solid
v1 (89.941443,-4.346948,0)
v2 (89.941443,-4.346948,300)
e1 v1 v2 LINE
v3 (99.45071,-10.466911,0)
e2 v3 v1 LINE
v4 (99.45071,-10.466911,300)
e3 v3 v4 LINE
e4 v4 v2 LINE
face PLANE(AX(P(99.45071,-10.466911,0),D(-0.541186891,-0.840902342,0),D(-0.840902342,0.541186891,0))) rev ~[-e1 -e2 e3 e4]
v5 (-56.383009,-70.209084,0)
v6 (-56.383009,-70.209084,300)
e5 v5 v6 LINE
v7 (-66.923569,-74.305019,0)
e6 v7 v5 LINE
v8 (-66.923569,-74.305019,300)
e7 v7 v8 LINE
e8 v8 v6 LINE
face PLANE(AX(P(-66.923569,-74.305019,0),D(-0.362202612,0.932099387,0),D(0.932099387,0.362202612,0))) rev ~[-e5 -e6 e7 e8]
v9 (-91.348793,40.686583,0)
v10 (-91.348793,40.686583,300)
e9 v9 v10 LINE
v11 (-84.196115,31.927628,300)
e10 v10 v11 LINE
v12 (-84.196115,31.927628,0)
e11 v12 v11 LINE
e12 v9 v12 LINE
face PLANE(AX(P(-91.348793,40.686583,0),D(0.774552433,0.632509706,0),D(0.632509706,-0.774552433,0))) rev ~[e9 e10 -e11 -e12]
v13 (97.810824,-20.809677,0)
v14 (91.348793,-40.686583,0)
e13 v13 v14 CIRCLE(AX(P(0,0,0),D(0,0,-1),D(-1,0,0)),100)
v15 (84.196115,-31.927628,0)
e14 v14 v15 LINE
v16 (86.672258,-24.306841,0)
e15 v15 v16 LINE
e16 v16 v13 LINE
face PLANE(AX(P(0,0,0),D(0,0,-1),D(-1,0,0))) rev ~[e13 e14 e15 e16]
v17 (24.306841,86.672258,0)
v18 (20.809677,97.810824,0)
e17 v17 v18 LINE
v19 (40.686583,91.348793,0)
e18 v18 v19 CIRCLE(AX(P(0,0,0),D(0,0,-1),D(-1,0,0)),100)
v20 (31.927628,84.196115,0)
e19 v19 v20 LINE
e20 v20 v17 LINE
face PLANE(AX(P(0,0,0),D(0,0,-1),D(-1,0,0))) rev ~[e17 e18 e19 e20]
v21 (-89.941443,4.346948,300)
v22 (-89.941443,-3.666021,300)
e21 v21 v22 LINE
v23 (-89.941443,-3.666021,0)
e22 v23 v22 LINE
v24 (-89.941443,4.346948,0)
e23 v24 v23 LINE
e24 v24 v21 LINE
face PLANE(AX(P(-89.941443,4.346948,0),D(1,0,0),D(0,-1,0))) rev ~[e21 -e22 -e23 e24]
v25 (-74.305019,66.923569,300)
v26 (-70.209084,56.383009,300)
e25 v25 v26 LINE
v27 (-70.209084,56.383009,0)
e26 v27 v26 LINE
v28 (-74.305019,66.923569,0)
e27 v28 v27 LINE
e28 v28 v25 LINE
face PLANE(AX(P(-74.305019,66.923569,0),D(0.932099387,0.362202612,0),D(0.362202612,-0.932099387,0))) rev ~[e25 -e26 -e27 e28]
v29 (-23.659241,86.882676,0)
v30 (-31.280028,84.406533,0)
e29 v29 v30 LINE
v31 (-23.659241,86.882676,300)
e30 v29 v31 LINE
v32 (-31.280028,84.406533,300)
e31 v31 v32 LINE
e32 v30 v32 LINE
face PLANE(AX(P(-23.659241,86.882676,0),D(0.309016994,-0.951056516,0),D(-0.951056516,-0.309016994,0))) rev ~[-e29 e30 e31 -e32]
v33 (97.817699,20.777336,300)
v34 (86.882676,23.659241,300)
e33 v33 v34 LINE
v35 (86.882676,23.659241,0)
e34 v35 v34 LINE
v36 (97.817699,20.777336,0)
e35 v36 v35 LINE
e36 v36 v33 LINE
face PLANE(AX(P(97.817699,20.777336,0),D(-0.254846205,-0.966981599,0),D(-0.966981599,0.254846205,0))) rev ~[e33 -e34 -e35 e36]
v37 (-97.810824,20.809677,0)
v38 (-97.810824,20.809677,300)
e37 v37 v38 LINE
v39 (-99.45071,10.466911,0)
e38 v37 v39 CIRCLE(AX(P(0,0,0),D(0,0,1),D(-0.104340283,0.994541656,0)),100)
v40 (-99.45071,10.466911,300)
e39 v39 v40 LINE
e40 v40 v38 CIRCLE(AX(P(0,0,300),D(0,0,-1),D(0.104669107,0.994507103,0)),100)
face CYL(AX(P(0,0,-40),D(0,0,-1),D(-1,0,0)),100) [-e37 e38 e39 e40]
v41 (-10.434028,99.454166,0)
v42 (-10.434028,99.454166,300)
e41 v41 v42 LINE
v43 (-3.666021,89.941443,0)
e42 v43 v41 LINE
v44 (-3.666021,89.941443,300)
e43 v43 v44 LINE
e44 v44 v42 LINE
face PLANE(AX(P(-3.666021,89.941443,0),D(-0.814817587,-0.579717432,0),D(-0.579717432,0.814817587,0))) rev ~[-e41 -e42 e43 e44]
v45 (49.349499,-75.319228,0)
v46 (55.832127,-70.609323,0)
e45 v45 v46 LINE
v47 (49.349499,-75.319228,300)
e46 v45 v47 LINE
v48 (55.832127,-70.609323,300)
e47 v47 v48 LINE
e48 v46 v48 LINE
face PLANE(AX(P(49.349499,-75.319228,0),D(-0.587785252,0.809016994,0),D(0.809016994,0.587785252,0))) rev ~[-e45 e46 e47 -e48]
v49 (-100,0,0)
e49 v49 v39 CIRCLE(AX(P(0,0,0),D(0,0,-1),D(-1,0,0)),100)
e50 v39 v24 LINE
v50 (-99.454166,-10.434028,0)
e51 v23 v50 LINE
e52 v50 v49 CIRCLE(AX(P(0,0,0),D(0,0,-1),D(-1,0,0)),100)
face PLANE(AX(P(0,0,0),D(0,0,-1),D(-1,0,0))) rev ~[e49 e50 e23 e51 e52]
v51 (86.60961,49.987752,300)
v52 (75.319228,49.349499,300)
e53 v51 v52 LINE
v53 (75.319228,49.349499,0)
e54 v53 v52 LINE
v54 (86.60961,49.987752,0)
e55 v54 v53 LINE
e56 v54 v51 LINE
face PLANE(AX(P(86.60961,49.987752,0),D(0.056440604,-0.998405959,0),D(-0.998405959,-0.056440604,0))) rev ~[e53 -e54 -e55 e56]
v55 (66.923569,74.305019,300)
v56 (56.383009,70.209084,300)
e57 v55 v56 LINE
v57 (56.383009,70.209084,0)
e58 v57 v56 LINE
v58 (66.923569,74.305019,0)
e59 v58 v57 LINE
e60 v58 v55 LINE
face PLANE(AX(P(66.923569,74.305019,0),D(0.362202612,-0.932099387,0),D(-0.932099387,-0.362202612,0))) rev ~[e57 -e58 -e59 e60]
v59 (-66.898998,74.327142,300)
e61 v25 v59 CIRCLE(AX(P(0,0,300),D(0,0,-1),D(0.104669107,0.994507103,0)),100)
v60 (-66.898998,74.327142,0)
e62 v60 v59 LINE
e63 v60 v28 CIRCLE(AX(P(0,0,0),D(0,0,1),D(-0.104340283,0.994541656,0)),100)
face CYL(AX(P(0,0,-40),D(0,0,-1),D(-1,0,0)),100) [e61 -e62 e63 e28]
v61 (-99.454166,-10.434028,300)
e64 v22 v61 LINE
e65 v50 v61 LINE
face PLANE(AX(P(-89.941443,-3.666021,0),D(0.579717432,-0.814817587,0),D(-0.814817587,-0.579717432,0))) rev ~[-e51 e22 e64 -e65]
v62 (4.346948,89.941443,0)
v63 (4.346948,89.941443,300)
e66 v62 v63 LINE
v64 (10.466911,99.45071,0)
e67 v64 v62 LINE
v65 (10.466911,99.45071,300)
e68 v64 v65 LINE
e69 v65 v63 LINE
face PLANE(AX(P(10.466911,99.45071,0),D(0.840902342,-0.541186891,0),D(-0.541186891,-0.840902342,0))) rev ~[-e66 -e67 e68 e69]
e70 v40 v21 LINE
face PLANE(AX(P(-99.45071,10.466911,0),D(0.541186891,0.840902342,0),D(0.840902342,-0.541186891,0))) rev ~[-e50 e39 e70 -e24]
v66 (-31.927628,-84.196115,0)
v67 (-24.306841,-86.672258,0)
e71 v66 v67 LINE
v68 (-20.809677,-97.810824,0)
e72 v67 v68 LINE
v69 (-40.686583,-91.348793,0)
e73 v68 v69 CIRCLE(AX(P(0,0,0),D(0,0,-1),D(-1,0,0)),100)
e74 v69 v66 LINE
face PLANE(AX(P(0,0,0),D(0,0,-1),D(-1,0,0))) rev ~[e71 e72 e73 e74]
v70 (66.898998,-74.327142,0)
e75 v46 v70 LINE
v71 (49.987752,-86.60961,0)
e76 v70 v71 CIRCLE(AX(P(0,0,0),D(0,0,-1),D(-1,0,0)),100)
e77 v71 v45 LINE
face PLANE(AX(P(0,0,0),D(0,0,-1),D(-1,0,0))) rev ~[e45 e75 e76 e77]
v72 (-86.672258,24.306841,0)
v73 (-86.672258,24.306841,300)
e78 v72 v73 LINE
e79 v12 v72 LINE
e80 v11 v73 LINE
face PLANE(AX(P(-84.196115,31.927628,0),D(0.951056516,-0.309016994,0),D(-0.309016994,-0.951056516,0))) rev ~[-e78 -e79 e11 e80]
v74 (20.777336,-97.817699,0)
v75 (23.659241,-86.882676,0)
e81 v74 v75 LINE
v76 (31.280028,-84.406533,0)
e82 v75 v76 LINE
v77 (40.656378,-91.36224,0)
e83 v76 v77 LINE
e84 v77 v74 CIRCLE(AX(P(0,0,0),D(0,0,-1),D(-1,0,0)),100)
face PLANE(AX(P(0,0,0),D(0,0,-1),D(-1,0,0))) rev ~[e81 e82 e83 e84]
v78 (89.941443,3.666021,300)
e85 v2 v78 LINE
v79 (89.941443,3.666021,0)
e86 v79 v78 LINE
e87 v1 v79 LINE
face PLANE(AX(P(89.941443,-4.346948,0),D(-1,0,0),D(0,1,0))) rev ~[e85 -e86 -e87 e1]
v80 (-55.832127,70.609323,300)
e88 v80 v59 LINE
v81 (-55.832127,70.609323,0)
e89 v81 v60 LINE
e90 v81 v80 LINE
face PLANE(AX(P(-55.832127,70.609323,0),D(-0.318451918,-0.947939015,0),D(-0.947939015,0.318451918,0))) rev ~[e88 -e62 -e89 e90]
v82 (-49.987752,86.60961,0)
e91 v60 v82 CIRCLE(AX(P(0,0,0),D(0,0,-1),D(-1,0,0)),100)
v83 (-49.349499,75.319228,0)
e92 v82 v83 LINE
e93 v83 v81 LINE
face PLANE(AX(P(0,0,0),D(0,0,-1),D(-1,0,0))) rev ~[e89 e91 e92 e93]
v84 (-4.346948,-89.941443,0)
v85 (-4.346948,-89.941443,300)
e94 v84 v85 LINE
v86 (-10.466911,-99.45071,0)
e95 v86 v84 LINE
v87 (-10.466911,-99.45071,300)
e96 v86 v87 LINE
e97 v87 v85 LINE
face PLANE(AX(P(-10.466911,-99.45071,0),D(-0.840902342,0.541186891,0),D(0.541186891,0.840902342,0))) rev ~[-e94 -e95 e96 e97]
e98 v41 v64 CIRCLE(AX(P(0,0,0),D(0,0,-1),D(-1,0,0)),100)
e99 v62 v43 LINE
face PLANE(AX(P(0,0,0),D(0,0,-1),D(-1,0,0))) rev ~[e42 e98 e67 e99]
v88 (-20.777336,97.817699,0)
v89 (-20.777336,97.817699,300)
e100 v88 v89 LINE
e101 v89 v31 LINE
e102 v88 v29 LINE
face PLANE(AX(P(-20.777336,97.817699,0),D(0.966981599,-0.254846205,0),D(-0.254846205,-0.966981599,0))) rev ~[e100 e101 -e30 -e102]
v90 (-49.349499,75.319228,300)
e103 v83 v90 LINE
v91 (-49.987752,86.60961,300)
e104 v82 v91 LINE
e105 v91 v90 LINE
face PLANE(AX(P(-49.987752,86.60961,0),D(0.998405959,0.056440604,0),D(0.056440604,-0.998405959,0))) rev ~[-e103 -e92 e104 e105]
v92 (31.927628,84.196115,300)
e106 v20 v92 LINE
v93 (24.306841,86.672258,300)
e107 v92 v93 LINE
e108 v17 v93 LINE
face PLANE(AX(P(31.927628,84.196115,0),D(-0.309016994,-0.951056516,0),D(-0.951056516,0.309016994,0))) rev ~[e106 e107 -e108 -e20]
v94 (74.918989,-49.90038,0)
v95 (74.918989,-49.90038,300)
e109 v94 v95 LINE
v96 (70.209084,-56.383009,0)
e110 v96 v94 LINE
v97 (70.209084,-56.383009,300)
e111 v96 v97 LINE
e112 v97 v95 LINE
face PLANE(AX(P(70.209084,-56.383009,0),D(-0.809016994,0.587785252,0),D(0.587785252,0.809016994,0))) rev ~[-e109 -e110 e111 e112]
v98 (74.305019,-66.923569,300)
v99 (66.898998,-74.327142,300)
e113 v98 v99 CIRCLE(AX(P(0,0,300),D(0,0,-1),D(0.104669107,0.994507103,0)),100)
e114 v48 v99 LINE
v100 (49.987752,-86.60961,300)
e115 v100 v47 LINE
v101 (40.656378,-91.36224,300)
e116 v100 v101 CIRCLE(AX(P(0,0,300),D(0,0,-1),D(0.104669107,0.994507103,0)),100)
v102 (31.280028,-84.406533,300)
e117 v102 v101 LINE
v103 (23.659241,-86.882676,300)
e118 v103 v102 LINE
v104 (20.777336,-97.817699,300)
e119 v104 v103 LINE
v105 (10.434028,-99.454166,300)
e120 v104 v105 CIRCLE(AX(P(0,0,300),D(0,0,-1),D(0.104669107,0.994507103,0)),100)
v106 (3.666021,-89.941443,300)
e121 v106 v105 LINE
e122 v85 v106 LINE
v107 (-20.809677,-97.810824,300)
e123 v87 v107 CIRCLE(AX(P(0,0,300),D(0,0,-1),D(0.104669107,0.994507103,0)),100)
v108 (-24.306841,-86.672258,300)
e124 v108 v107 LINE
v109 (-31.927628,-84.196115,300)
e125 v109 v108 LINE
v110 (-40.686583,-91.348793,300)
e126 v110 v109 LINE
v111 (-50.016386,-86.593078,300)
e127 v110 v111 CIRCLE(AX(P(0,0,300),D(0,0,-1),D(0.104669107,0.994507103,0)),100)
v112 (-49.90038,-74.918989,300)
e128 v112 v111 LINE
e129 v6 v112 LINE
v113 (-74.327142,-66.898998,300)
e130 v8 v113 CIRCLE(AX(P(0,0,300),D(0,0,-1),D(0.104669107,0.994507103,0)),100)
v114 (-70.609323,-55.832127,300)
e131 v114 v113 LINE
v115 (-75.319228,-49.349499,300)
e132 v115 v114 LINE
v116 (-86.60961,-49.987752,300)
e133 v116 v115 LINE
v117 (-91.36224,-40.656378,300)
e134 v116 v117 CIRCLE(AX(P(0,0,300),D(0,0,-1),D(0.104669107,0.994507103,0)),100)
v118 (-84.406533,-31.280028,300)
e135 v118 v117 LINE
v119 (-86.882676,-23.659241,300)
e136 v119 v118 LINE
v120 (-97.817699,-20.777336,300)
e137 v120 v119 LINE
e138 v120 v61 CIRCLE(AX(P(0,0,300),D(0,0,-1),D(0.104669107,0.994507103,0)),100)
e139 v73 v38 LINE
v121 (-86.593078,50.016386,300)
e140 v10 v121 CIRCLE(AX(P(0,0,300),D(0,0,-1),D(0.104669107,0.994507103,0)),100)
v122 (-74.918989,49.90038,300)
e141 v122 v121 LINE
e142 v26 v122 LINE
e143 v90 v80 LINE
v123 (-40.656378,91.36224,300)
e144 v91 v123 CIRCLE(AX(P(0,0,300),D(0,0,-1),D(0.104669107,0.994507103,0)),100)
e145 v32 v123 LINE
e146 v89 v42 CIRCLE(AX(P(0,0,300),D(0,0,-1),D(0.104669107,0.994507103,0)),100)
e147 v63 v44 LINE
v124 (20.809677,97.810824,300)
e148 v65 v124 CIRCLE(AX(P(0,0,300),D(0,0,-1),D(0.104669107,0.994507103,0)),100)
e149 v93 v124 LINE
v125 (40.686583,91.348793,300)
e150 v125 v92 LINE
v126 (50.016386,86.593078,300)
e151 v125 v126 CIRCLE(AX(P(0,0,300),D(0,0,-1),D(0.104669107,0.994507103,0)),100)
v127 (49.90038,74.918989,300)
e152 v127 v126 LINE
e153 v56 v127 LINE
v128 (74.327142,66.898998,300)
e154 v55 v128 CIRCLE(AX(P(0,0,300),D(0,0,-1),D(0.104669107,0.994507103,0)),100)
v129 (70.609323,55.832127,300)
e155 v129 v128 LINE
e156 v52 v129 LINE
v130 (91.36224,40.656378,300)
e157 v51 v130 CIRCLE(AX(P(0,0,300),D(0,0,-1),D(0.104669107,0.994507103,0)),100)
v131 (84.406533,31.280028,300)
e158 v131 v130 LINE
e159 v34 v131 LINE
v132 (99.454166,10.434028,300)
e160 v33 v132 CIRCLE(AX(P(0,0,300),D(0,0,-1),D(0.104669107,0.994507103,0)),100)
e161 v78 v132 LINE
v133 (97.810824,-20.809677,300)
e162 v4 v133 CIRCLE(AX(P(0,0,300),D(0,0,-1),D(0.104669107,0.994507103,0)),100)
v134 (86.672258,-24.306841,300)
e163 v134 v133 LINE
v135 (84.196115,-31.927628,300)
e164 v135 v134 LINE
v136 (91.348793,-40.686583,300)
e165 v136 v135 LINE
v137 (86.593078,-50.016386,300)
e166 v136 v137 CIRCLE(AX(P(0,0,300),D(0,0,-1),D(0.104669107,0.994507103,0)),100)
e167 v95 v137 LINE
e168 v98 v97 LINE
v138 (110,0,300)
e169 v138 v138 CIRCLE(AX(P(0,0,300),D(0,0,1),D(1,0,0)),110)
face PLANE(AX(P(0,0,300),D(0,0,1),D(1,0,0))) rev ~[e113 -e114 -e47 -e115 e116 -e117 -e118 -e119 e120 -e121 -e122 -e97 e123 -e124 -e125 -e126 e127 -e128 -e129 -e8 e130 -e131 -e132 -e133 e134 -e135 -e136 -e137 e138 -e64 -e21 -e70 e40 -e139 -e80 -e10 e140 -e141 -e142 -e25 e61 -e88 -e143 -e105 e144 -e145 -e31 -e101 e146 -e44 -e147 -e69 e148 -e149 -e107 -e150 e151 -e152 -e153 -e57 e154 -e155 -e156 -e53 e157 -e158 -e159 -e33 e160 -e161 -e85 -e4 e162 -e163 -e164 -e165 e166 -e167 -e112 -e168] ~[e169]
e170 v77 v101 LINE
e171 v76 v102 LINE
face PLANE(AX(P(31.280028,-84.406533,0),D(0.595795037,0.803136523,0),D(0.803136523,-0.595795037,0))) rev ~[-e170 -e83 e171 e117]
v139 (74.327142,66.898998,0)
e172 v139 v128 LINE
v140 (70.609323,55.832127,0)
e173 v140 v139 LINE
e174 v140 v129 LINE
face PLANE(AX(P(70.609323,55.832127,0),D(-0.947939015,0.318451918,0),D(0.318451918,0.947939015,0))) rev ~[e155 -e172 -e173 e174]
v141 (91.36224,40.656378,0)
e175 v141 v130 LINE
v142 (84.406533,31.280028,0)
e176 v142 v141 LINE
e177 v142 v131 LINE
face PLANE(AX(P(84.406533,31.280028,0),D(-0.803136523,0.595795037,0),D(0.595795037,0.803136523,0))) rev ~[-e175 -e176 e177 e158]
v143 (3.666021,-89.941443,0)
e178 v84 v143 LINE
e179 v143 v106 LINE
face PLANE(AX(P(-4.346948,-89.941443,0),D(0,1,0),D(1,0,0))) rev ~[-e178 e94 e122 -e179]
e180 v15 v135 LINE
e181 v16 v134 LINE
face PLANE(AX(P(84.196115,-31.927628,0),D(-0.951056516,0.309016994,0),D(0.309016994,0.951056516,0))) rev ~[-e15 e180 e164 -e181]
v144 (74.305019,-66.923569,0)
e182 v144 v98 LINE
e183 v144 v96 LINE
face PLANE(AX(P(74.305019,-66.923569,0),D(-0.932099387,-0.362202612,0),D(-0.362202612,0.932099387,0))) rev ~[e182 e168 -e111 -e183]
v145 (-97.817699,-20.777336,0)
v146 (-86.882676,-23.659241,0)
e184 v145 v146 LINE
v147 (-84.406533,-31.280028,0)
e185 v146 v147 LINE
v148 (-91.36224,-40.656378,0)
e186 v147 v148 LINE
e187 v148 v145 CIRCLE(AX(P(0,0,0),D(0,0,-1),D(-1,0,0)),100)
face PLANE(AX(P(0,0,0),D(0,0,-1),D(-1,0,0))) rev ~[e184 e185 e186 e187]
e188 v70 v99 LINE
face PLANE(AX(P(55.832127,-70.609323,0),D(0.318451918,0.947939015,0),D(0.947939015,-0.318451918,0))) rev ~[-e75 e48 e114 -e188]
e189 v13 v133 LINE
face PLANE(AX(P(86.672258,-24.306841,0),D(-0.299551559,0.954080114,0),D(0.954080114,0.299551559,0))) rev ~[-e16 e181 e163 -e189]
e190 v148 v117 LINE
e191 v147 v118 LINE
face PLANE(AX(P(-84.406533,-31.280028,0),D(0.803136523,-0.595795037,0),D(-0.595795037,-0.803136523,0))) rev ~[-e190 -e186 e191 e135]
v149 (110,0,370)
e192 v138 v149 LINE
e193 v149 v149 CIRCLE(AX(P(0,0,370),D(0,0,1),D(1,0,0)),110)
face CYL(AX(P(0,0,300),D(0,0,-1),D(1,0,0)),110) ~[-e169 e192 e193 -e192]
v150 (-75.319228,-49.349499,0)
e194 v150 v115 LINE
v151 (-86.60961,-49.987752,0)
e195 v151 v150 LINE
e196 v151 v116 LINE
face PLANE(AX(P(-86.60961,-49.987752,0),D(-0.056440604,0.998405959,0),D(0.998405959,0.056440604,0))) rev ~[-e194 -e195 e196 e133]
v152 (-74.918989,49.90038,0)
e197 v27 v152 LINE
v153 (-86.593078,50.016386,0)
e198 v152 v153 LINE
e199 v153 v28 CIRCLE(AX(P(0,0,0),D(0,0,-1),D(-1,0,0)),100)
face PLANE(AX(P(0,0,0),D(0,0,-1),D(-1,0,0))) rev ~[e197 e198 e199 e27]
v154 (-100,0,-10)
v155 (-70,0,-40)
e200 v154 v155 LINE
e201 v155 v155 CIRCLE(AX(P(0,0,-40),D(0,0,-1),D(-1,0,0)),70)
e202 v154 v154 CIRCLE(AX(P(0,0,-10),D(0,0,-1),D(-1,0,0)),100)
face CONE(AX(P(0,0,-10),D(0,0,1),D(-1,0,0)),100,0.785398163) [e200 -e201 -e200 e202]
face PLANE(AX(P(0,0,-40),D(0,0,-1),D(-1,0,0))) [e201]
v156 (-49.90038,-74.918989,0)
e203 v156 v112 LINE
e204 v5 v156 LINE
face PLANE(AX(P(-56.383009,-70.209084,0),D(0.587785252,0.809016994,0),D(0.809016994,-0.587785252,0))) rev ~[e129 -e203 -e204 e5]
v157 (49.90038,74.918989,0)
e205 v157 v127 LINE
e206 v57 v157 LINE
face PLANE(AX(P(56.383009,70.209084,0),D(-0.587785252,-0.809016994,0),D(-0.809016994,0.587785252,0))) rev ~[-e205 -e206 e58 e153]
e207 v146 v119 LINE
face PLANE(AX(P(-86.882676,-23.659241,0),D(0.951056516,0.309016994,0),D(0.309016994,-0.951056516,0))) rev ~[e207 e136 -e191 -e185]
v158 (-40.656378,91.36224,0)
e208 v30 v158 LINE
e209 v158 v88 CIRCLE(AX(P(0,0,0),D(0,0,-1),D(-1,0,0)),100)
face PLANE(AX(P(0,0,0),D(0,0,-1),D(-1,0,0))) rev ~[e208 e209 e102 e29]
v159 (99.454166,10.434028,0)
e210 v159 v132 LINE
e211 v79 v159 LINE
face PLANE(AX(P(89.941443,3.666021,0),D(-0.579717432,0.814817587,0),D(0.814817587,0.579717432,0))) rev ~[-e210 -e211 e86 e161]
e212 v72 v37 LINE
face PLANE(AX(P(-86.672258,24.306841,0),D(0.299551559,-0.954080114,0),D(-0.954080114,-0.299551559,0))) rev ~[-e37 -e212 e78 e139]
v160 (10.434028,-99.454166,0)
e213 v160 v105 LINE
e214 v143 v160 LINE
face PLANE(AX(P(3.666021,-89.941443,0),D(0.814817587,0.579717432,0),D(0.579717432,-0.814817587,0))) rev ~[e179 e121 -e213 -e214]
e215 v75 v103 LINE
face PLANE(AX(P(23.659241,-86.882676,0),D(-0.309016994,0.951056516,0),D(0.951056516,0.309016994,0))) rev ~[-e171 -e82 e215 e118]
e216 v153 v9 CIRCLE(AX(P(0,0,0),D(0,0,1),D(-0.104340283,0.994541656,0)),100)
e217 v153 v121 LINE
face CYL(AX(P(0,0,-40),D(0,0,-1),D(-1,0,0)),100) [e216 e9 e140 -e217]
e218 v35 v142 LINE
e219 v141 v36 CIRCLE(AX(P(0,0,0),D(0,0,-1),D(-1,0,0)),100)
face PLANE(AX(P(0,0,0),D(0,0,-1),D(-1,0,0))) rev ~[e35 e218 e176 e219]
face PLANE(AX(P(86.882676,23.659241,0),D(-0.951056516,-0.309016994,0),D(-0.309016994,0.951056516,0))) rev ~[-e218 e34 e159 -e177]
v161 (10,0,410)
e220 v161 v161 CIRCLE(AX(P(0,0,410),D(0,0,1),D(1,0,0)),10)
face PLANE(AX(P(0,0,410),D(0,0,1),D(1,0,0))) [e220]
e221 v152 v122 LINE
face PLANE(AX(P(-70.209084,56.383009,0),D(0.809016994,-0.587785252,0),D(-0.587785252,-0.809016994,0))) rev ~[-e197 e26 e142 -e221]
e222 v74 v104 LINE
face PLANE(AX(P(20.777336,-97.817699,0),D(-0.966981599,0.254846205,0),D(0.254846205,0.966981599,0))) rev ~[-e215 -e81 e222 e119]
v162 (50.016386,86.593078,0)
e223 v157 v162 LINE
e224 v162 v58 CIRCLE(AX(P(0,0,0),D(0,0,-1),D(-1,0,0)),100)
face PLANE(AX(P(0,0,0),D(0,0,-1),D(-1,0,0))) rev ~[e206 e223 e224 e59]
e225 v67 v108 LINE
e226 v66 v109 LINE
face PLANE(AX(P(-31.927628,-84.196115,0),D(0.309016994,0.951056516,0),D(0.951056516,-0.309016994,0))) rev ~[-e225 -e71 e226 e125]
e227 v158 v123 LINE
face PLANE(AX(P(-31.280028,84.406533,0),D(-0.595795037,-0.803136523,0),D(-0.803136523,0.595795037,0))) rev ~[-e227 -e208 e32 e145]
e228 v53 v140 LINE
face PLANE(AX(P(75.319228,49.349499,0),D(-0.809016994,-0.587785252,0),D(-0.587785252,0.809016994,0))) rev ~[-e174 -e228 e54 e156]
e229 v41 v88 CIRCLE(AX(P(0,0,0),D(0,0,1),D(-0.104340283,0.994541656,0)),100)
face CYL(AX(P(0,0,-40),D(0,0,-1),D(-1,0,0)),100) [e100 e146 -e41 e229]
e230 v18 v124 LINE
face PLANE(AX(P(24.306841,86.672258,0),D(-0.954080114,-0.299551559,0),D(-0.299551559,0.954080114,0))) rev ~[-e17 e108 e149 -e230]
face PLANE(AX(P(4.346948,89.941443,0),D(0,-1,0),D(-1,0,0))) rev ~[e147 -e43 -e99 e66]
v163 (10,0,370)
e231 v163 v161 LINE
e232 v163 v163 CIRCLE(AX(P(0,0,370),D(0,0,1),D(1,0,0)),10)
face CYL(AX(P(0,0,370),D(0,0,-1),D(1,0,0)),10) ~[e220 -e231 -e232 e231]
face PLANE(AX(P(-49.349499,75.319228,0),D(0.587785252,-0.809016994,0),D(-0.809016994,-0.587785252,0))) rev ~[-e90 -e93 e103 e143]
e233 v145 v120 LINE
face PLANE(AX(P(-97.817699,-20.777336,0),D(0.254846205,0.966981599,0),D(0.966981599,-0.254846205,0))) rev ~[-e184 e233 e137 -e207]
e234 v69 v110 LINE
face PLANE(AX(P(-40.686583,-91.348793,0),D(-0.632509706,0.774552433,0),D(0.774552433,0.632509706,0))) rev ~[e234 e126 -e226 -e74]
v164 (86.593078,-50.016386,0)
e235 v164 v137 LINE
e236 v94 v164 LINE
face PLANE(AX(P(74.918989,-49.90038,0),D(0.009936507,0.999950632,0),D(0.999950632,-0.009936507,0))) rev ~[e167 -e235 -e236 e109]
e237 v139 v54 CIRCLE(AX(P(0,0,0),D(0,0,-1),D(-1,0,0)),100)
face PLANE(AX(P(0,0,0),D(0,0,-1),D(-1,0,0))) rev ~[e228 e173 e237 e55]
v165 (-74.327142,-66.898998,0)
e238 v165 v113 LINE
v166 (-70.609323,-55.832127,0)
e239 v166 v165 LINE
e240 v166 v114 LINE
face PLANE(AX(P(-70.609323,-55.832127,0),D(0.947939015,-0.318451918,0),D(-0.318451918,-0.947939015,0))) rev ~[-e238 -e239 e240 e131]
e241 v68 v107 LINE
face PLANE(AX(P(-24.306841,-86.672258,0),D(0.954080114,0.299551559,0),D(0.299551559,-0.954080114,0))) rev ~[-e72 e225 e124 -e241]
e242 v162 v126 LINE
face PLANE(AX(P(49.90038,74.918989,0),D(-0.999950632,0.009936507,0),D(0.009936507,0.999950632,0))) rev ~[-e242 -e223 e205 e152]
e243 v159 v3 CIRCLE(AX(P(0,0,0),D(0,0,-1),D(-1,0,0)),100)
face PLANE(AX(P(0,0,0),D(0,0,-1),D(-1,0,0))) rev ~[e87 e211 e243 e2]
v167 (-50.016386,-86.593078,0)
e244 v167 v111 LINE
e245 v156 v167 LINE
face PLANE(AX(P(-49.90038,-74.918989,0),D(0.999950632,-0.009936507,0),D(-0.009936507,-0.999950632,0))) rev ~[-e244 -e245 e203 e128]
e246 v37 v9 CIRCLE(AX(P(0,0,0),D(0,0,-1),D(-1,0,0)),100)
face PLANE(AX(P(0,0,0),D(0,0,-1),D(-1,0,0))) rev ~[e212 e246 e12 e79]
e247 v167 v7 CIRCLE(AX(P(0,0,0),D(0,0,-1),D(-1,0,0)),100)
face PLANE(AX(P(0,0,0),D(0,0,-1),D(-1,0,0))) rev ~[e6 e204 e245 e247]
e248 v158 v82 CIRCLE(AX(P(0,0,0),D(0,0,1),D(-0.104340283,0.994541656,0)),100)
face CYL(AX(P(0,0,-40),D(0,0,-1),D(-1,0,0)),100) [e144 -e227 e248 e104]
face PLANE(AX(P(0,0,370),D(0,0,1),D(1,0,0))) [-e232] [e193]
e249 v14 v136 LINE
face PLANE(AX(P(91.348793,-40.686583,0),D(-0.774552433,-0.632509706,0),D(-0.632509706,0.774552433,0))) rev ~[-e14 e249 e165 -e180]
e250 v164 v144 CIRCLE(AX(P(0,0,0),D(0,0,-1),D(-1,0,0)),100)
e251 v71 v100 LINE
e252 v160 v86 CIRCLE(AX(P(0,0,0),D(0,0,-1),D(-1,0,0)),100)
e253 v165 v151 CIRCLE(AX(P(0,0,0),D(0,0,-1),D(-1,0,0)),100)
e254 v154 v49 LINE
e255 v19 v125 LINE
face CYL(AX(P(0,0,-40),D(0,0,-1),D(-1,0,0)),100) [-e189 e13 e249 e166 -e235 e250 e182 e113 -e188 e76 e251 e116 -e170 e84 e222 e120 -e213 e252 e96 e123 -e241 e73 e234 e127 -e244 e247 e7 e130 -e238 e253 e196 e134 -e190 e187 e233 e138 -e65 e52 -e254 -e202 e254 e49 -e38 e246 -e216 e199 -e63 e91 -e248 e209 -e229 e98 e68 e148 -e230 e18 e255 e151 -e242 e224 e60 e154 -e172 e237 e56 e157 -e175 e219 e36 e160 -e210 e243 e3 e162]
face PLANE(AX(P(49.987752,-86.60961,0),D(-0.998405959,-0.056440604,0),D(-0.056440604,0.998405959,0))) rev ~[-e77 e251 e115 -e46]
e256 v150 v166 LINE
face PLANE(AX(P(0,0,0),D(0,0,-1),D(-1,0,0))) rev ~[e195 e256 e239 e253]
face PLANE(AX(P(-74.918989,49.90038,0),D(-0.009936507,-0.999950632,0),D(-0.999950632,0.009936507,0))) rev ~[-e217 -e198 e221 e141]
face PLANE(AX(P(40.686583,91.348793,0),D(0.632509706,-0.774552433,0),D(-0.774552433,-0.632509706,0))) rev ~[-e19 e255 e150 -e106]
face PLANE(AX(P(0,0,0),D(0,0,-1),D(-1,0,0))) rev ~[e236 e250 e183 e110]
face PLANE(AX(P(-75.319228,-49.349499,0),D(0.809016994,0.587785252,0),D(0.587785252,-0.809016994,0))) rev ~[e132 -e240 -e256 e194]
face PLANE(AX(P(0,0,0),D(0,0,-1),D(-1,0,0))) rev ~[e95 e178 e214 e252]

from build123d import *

# Parameters (mm, degrees)
SKETCH1_R           = 100
BOSS_EXTRUDE1_DEPTH = 300
CUT_EXTRUDE1_REACH  = 333.662
BOSS_EXTRUDE3_START = 40
SKETCH4_R           = 100
BOSS_EXTRUDE3_DEPTH = 40
CHAMFER1_SIZE       = 30
SKETCH5_R           = 110
BOSS_EXTRUDE4_DEPTH = 70
SKETCH6_R           = 10
BOSS_EXTRUDE5_DEPTH = 40


with BuildPart() as part:
    # Sketch1 → Boss-Extrude1 (new body)
    with BuildSketch(Plane.XY):
        Circle(SKETCH1_R)
    extrude(amount=BOSS_EXTRUDE1_DEPTH)

    # Sketch3 → Cut-Extrude1 (cut, up to next)
    with BuildSketch(Plane(origin=(0, 0, 0), x_dir=(-1, 0, 0), z_dir=(0, 0, -1)), mode=Mode.PRIVATE) as cut_extrude1_sk1:
        with BuildLine():
            Line((-10.46691071, 99.450710305), (-4.346948216, 89.941443019))
            Line((-4.346948216, 89.941443019), (3.66602129, 89.941443019))
            Line((3.66602129, 89.941443019), (10.434028252, 99.454165596))
            ThreePointArc((10.434028252, 99.454165596), (-0.01653175, 99.999998634), (-10.46691071, 99.450710305))
        make_face()
    cut_extrude1_tool1 = extrude(cut_extrude1_sk1.sketch, amount=-CUT_EXTRUDE1_REACH, mode=Mode.PRIVATE) & part.part
    # Sketch3 → Cut-Extrude1 (cut, up to next)
    with BuildSketch(Plane(origin=(0, 0, 0), x_dir=(-1, 0, 0), z_dir=(0, 0, -1)), mode=Mode.PRIVATE) as cut_extrude1_sk2:
        with BuildLine():
            Line((20.777335951, 97.817699374), (23.659240965, 86.88267634))
            Line((23.659240965, 86.88267634), (31.280027828, 84.406532588))
            Line((31.280027828, 84.406532588), (40.656377891, 91.362240213))
            ThreePointArc((40.656377891, 91.362240213), (30.885976386, 95.110758922), (20.777335951, 97.817699374))
        make_face()
    cut_extrude1_tool2 = extrude(cut_extrude1_sk2.sketch, amount=-CUT_EXTRUDE1_REACH, mode=Mode.PRIVATE) & part.part
    # Sketch3 → Cut-Extrude1 (cut, up to next)
    with BuildSketch(Plane(origin=(0, 0, 0), x_dir=(-1, 0, 0), z_dir=(0, 0, -1)), mode=Mode.PRIVATE) as cut_extrude1_sk3:
        with BuildLine():
            Line((49.987752204, 86.609610492), (49.349498796, 75.319227955))
            Line((49.349498796, 75.319227955), (55.832127301, 70.609322652))
            Line((55.832127301, 70.609322652), (66.898997992, 74.3271422))
            ThreePointArc((66.898997992, 74.3271422), (58.765149959, 80.911415451), (49.987752204, 86.609610492))
        make_face()
    cut_extrude1_tool3 = extrude(cut_extrude1_sk3.sketch, amount=-CUT_EXTRUDE1_REACH, mode=Mode.PRIVATE) & part.part
    # Sketch3 → Cut-Extrude1 (cut, up to next)
    with BuildSketch(Plane(origin=(0, 0, 0), x_dir=(-1, 0, 0), z_dir=(0, 0, -1)), mode=Mode.PRIVATE) as cut_extrude1_sk4:
        with BuildLine():
            Line((74.305018987, 66.92356949), (70.209083847, 56.383008757))
            Line((70.209083847, 56.383008757), (74.918989149, 49.900380251))
            Line((74.918989149, 49.900380251), (86.593078057, 50.016385641))
            ThreePointArc((86.593078057, 50.016385641), (80.891981213, 58.791898893), (74.305018987, 66.92356949))
        make_face()
    cut_extrude1_tool4 = extrude(cut_extrude1_sk4.sketch, amount=-CUT_EXTRUDE1_REACH, mode=Mode.PRIVATE) & part.part
    # Sketch3 → Cut-Extrude1 (cut, up to next)
    with BuildSketch(Plane(origin=(0, 0, 0), x_dir=(-1, 0, 0), z_dir=(0, 0, -1)), mode=Mode.PRIVATE) as cut_extrude1_sk5:
        with BuildLine():
            Line((91.348792798, 40.686583223), (84.196114596, 31.927627818))
            Line((84.196114596, 31.927627818), (86.672258348, 24.306840955))
            Line((86.672258348, 24.306840955), (97.810824313, 20.80967677))
            ThreePointArc((97.810824313, 20.80967677), (95.100541738, 30.917421644), (91.348792798, 40.686583223))
        make_face()
    cut_extrude1_tool5 = extrude(cut_extrude1_sk5.sketch, amount=-CUT_EXTRUDE1_REACH, mode=Mode.PRIVATE) & part.part
    # Sketch3 → Cut-Extrude1 (cut, up to next)
    with BuildSketch(Plane(origin=(0, 0, 0), x_dir=(-1, 0, 0), z_dir=(0, 0, -1)), mode=Mode.PRIVATE) as cut_extrude1_sk6:
        with BuildLine():
            Line((99.450710305, 10.46691071), (89.941443019, 4.346948216))
            Line((89.941443019, 4.346948216), (89.941443019, -3.66602129))
            Line((89.941443019, -3.66602129), (99.454165596, -10.434028252))
            ThreePointArc((99.454165596, -10.434028252), (99.999998634, 0.01653175), (99.450710305, 10.46691071))
        make_face()
    cut_extrude1_tool6 = extrude(cut_extrude1_sk6.sketch, amount=-CUT_EXTRUDE1_REACH, mode=Mode.PRIVATE) & part.part
    # Sketch3 → Cut-Extrude1 (cut, up to next)
    with BuildSketch(Plane(origin=(0, 0, 0), x_dir=(-1, 0, 0), z_dir=(0, 0, -1)), mode=Mode.PRIVATE) as cut_extrude1_sk7:
        with BuildLine():
            Line((97.817699374, -20.777335951), (86.88267634, -23.659240965))
            Line((86.88267634, -23.659240965), (84.406532588, -31.280027828))
            Line((84.406532588, -31.280027828), (91.362240213, -40.656377891))
            ThreePointArc((91.362240213, -40.656377891), (95.110758922, -30.885976386), (97.817699374, -20.777335951))
        make_face()
    cut_extrude1_tool7 = extrude(cut_extrude1_sk7.sketch, amount=-CUT_EXTRUDE1_REACH, mode=Mode.PRIVATE) & part.part
    # Sketch3 → Cut-Extrude1 (cut, up to next)
    with BuildSketch(Plane(origin=(0, 0, 0), x_dir=(-1, 0, 0), z_dir=(0, 0, -1)), mode=Mode.PRIVATE) as cut_extrude1_sk8:
        with BuildLine():
            Line((86.609610492, -49.987752204), (75.319227955, -49.349498796))
            Line((75.319227955, -49.349498796), (70.609322652, -55.832127301))
            Line((70.609322652, -55.832127301), (74.3271422, -66.898997992))
            ThreePointArc((74.3271422, -66.898997992), (80.911415451, -58.765149959), (86.609610492, -49.987752204))
        make_face()
    cut_extrude1_tool8 = extrude(cut_extrude1_sk8.sketch, amount=-CUT_EXTRUDE1_REACH, mode=Mode.PRIVATE) & part.part
    # Sketch3 → Cut-Extrude1 (cut, up to next)
    with BuildSketch(Plane(origin=(0, 0, 0), x_dir=(-1, 0, 0), z_dir=(0, 0, -1)), mode=Mode.PRIVATE) as cut_extrude1_sk9:
        with BuildLine():
            Line((66.92356949, -74.305018987), (56.383008757, -70.209083847))
            Line((56.383008757, -70.209083847), (49.900380251, -74.918989149))
            Line((49.900380251, -74.918989149), (50.016385641, -86.593078057))
            ThreePointArc((50.016385641, -86.593078057), (58.791898893, -80.891981213), (66.92356949, -74.305018987))
        make_face()
    cut_extrude1_tool9 = extrude(cut_extrude1_sk9.sketch, amount=-CUT_EXTRUDE1_REACH, mode=Mode.PRIVATE) & part.part
    # Sketch3 → Cut-Extrude1 (cut, up to next)
    with BuildSketch(Plane(origin=(0, 0, 0), x_dir=(-1, 0, 0), z_dir=(0, 0, -1)), mode=Mode.PRIVATE) as cut_extrude1_sk10:
        with BuildLine():
            Line((40.686583223, -91.348792798), (31.927627818, -84.196114596))
            Line((31.927627818, -84.196114596), (24.306840955, -86.672258348))
            Line((24.306840955, -86.672258348), (20.80967677, -97.810824313))
            ThreePointArc((20.80967677, -97.810824313), (30.917421644, -95.100541738), (40.686583223, -91.348792798))
        make_face()
    cut_extrude1_tool10 = extrude(cut_extrude1_sk10.sketch, amount=-CUT_EXTRUDE1_REACH, mode=Mode.PRIVATE) & part.part
    # Sketch3 → Cut-Extrude1 (cut, up to next)
    with BuildSketch(Plane(origin=(0, 0, 0), x_dir=(-1, 0, 0), z_dir=(0, 0, -1)), mode=Mode.PRIVATE) as cut_extrude1_sk11:
        with BuildLine():
            Line((10.46691071, -99.450710305), (4.346948216, -89.941443019))
            Line((4.346948216, -89.941443019), (-3.66602129, -89.941443019))
            Line((-3.66602129, -89.941443019), (-10.434028252, -99.454165596))
            ThreePointArc((-10.434028252, -99.454165596), (0.01653175, -99.999998634), (10.46691071, -99.450710305))
        make_face()
    cut_extrude1_tool11 = extrude(cut_extrude1_sk11.sketch, amount=-CUT_EXTRUDE1_REACH, mode=Mode.PRIVATE) & part.part
    # Sketch3 → Cut-Extrude1 (cut, up to next)
    with BuildSketch(Plane(origin=(0, 0, 0), x_dir=(-1, 0, 0), z_dir=(0, 0, -1)), mode=Mode.PRIVATE) as cut_extrude1_sk12:
        with BuildLine():
            Line((-20.777335951, -97.817699374), (-23.659240965, -86.88267634))
            Line((-23.659240965, -86.88267634), (-31.280027828, -84.406532588))
            Line((-31.280027828, -84.406532588), (-40.656377891, -91.362240213))
            ThreePointArc((-40.656377891, -91.362240213), (-30.885976386, -95.110758922), (-20.777335951, -97.817699374))
        make_face()
    cut_extrude1_tool12 = extrude(cut_extrude1_sk12.sketch, amount=-CUT_EXTRUDE1_REACH, mode=Mode.PRIVATE) & part.part
    # Sketch3 → Cut-Extrude1 (cut, up to next)
    with BuildSketch(Plane(origin=(0, 0, 0), x_dir=(-1, 0, 0), z_dir=(0, 0, -1)), mode=Mode.PRIVATE) as cut_extrude1_sk13:
        with BuildLine():
            Line((-49.987752204, -86.609610492), (-49.349498796, -75.319227955))
            Line((-49.349498796, -75.319227955), (-55.832127301, -70.609322652))
            Line((-55.832127301, -70.609322652), (-66.898997992, -74.3271422))
            ThreePointArc((-66.898997992, -74.3271422), (-58.765149959, -80.911415451), (-49.987752204, -86.609610492))
        make_face()
    cut_extrude1_tool13 = extrude(cut_extrude1_sk13.sketch, amount=-CUT_EXTRUDE1_REACH, mode=Mode.PRIVATE) & part.part
    # Sketch3 → Cut-Extrude1 (cut, up to next)
    with BuildSketch(Plane(origin=(0, 0, 0), x_dir=(-1, 0, 0), z_dir=(0, 0, -1)), mode=Mode.PRIVATE) as cut_extrude1_sk14:
        with BuildLine():
            Line((-74.305018987, -66.92356949), (-70.209083847, -56.383008757))
            Line((-70.209083847, -56.383008757), (-74.918989149, -49.900380251))
            Line((-74.918989149, -49.900380251), (-86.593078057, -50.016385641))
            ThreePointArc((-86.593078057, -50.016385641), (-80.891981213, -58.791898893), (-74.305018987, -66.92356949))
        make_face()
    cut_extrude1_tool14 = extrude(cut_extrude1_sk14.sketch, amount=-CUT_EXTRUDE1_REACH, mode=Mode.PRIVATE) & part.part
    # Sketch3 → Cut-Extrude1 (cut, up to next)
    with BuildSketch(Plane(origin=(0, 0, 0), x_dir=(-1, 0, 0), z_dir=(0, 0, -1)), mode=Mode.PRIVATE) as cut_extrude1_sk15:
        with BuildLine():
            Line((-91.348792798, -40.686583223), (-84.196114596, -31.927627818))
            Line((-84.196114596, -31.927627818), (-86.672258348, -24.306840955))
            Line((-86.672258348, -24.306840955), (-97.810824313, -20.80967677))
            ThreePointArc((-97.810824313, -20.80967677), (-95.100541738, -30.917421644), (-91.348792798, -40.686583223))
        make_face()
    cut_extrude1_tool15 = extrude(cut_extrude1_sk15.sketch, amount=-CUT_EXTRUDE1_REACH, mode=Mode.PRIVATE) & part.part
    # Sketch3 → Cut-Extrude1 (cut, up to next)
    with BuildSketch(Plane(origin=(0, 0, 0), x_dir=(-1, 0, 0), z_dir=(0, 0, -1)), mode=Mode.PRIVATE) as cut_extrude1_sk16:
        with BuildLine():
            Line((-99.450710305, -10.46691071), (-89.941443019, -4.346948216))
            Line((-89.941443019, -4.346948216), (-89.941443019, 3.66602129))
            Line((-89.941443019, 3.66602129), (-99.454165596, 10.434028252))
            ThreePointArc((-99.454165596, 10.434028252), (-99.999998634, -0.01653175), (-99.450710305, -10.46691071))
        make_face()
    cut_extrude1_tool16 = extrude(cut_extrude1_sk16.sketch, amount=-CUT_EXTRUDE1_REACH, mode=Mode.PRIVATE) & part.part
    # Sketch3 → Cut-Extrude1 (cut, up to next)
    with BuildSketch(Plane(origin=(0, 0, 0), x_dir=(-1, 0, 0), z_dir=(0, 0, -1)), mode=Mode.PRIVATE) as cut_extrude1_sk17:
        with BuildLine():
            Line((-97.817699374, 20.777335951), (-86.88267634, 23.659240965))
            Line((-86.88267634, 23.659240965), (-84.406532588, 31.280027828))
            Line((-84.406532588, 31.280027828), (-91.362240213, 40.656377891))
            ThreePointArc((-91.362240213, 40.656377891), (-95.110758922, 30.885976386), (-97.817699374, 20.777335951))
        make_face()
    cut_extrude1_tool17 = extrude(cut_extrude1_sk17.sketch, amount=-CUT_EXTRUDE1_REACH, mode=Mode.PRIVATE) & part.part
    # Sketch3 → Cut-Extrude1 (cut, up to next)
    with BuildSketch(Plane(origin=(0, 0, 0), x_dir=(-1, 0, 0), z_dir=(0, 0, -1)), mode=Mode.PRIVATE) as cut_extrude1_sk18:
        with BuildLine():
            Line((-86.609610492, 49.987752204), (-75.319227955, 49.349498796))
            Line((-75.319227955, 49.349498796), (-70.609322652, 55.832127301))
            Line((-70.609322652, 55.832127301), (-74.3271422, 66.898997992))
            ThreePointArc((-74.3271422, 66.898997992), (-80.911415451, 58.765149959), (-86.609610492, 49.987752204))
        make_face()
    cut_extrude1_tool18 = extrude(cut_extrude1_sk18.sketch, amount=-CUT_EXTRUDE1_REACH, mode=Mode.PRIVATE) & part.part
    # Sketch3 → Cut-Extrude1 (cut, up to next)
    with BuildSketch(Plane(origin=(0, 0, 0), x_dir=(-1, 0, 0), z_dir=(0, 0, -1)), mode=Mode.PRIVATE) as cut_extrude1_sk19:
        with BuildLine():
            Line((-66.92356949, 74.305018987), (-56.383008757, 70.209083847))
            Line((-56.383008757, 70.209083847), (-49.900380251, 74.918989149))
            Line((-49.900380251, 74.918989149), (-50.016385641, 86.593078057))
            ThreePointArc((-50.016385641, 86.593078057), (-58.791898893, 80.891981213), (-66.92356949, 74.305018987))
        make_face()
    cut_extrude1_tool19 = extrude(cut_extrude1_sk19.sketch, amount=-CUT_EXTRUDE1_REACH, mode=Mode.PRIVATE) & part.part
    # Sketch3 → Cut-Extrude1 (cut, up to next)
    with BuildSketch(Plane(origin=(0, 0, 0), x_dir=(-1, 0, 0), z_dir=(0, 0, -1)), mode=Mode.PRIVATE) as cut_extrude1_sk20:
        with BuildLine():
            Line((-40.686583223, 91.348792798), (-31.927627818, 84.196114596))
            Line((-31.927627818, 84.196114596), (-24.306840955, 86.672258348))
            Line((-24.306840955, 86.672258348), (-20.80967677, 97.810824313))
            ThreePointArc((-20.80967677, 97.810824313), (-30.917421644, 95.100541738), (-40.686583223, 91.348792798))
        make_face()
    cut_extrude1_tool20 = extrude(cut_extrude1_sk20.sketch, amount=-CUT_EXTRUDE1_REACH, mode=Mode.PRIVATE) & part.part
    add(cut_extrude1_tool1.solids().sort_by_distance((0.146898, 95.627996, 0))[0], mode=Mode.SUBTRACT)
    add(cut_extrude1_tool2.solids().sort_by_distance((-29.410968, 90.993022, 0))[0], mode=Mode.SUBTRACT)
    add(cut_extrude1_tool3.solids().sort_by_distance((-56.089883, 77.451018, 0))[0], mode=Mode.SUBTRACT)
    add(cut_extrude1_tool4.solids().sort_by_distance((-77.278329, 56.327568, 0))[0], mode=Mode.SUBTRACT)
    add(cut_extrude1_tool5.solids().sort_by_distance((-90.902235, 29.690384, 0))[0], mode=Mode.SUBTRACT)
    add(cut_extrude1_tool6.solids().sort_by_distance((-95.627996, 0.146898, 0))[0], mode=Mode.SUBTRACT)
    add(cut_extrude1_tool7.solids().sort_by_distance((-90.993022, -29.410968, 0))[0], mode=Mode.SUBTRACT)
    add(cut_extrude1_tool8.solids().sort_by_distance((-77.451018, -56.089883, 0))[0], mode=Mode.SUBTRACT)
    add(cut_extrude1_tool9.solids().sort_by_distance((-56.327568, -77.278329, 0))[0], mode=Mode.SUBTRACT)
    add(cut_extrude1_tool10.solids().sort_by_distance((-29.690384, -90.902235, 0))[0], mode=Mode.SUBTRACT)
    add(cut_extrude1_tool11.solids().sort_by_distance((-0.146898, -95.627996, 0))[0], mode=Mode.SUBTRACT)
    add(cut_extrude1_tool12.solids().sort_by_distance((29.410968, -90.993022, 0))[0], mode=Mode.SUBTRACT)
    add(cut_extrude1_tool13.solids().sort_by_distance((56.089883, -77.451018, 0))[0], mode=Mode.SUBTRACT)
    add(cut_extrude1_tool14.solids().sort_by_distance((77.278329, -56.327568, 0))[0], mode=Mode.SUBTRACT)
    add(cut_extrude1_tool15.solids().sort_by_distance((90.902235, -29.690384, 0))[0], mode=Mode.SUBTRACT)
    add(cut_extrude1_tool16.solids().sort_by_distance((95.627996, -0.146898, 0))[0], mode=Mode.SUBTRACT)
    add(cut_extrude1_tool17.solids().sort_by_distance((90.993022, 29.410968, 0))[0], mode=Mode.SUBTRACT)
    add(cut_extrude1_tool18.solids().sort_by_distance((77.451018, 56.089883, 0))[0], mode=Mode.SUBTRACT)
    add(cut_extrude1_tool19.solids().sort_by_distance((56.327568, 77.278329, 0))[0], mode=Mode.SUBTRACT)
    add(cut_extrude1_tool20.solids().sort_by_distance((29.690384, 90.902235, 0))[0], mode=Mode.SUBTRACT)

    # Sketch4 → Boss-Extrude3 (add)
    with BuildSketch(Plane(origin=(0, 0, 0), x_dir=(-1, 0, 0), z_dir=(0, 0, -1)).offset(BOSS_EXTRUDE3_START)):
        Circle(SKETCH4_R)
    extrude(amount=-BOSS_EXTRUDE3_DEPTH)

    # Chamfer1
    chamfer1_edges = [part.edges().sort_by_distance(p)[0] for p in [
        (100, 0, -40),
    ]]
    chamfer(chamfer1_edges, length=CHAMFER1_SIZE)

    # Sketch5 → Boss-Extrude4 (add)
    with BuildSketch(Plane.XY.offset(300)):
        Circle(SKETCH5_R)
    extrude(amount=BOSS_EXTRUDE4_DEPTH)

    # Sketch6 → Boss-Extrude5 (add)
    with BuildSketch(Plane.XY.offset(370)):
        Circle(SKETCH6_R)
    extrude(amount=BOSS_EXTRUDE5_DEPTH)


solid = part.part
